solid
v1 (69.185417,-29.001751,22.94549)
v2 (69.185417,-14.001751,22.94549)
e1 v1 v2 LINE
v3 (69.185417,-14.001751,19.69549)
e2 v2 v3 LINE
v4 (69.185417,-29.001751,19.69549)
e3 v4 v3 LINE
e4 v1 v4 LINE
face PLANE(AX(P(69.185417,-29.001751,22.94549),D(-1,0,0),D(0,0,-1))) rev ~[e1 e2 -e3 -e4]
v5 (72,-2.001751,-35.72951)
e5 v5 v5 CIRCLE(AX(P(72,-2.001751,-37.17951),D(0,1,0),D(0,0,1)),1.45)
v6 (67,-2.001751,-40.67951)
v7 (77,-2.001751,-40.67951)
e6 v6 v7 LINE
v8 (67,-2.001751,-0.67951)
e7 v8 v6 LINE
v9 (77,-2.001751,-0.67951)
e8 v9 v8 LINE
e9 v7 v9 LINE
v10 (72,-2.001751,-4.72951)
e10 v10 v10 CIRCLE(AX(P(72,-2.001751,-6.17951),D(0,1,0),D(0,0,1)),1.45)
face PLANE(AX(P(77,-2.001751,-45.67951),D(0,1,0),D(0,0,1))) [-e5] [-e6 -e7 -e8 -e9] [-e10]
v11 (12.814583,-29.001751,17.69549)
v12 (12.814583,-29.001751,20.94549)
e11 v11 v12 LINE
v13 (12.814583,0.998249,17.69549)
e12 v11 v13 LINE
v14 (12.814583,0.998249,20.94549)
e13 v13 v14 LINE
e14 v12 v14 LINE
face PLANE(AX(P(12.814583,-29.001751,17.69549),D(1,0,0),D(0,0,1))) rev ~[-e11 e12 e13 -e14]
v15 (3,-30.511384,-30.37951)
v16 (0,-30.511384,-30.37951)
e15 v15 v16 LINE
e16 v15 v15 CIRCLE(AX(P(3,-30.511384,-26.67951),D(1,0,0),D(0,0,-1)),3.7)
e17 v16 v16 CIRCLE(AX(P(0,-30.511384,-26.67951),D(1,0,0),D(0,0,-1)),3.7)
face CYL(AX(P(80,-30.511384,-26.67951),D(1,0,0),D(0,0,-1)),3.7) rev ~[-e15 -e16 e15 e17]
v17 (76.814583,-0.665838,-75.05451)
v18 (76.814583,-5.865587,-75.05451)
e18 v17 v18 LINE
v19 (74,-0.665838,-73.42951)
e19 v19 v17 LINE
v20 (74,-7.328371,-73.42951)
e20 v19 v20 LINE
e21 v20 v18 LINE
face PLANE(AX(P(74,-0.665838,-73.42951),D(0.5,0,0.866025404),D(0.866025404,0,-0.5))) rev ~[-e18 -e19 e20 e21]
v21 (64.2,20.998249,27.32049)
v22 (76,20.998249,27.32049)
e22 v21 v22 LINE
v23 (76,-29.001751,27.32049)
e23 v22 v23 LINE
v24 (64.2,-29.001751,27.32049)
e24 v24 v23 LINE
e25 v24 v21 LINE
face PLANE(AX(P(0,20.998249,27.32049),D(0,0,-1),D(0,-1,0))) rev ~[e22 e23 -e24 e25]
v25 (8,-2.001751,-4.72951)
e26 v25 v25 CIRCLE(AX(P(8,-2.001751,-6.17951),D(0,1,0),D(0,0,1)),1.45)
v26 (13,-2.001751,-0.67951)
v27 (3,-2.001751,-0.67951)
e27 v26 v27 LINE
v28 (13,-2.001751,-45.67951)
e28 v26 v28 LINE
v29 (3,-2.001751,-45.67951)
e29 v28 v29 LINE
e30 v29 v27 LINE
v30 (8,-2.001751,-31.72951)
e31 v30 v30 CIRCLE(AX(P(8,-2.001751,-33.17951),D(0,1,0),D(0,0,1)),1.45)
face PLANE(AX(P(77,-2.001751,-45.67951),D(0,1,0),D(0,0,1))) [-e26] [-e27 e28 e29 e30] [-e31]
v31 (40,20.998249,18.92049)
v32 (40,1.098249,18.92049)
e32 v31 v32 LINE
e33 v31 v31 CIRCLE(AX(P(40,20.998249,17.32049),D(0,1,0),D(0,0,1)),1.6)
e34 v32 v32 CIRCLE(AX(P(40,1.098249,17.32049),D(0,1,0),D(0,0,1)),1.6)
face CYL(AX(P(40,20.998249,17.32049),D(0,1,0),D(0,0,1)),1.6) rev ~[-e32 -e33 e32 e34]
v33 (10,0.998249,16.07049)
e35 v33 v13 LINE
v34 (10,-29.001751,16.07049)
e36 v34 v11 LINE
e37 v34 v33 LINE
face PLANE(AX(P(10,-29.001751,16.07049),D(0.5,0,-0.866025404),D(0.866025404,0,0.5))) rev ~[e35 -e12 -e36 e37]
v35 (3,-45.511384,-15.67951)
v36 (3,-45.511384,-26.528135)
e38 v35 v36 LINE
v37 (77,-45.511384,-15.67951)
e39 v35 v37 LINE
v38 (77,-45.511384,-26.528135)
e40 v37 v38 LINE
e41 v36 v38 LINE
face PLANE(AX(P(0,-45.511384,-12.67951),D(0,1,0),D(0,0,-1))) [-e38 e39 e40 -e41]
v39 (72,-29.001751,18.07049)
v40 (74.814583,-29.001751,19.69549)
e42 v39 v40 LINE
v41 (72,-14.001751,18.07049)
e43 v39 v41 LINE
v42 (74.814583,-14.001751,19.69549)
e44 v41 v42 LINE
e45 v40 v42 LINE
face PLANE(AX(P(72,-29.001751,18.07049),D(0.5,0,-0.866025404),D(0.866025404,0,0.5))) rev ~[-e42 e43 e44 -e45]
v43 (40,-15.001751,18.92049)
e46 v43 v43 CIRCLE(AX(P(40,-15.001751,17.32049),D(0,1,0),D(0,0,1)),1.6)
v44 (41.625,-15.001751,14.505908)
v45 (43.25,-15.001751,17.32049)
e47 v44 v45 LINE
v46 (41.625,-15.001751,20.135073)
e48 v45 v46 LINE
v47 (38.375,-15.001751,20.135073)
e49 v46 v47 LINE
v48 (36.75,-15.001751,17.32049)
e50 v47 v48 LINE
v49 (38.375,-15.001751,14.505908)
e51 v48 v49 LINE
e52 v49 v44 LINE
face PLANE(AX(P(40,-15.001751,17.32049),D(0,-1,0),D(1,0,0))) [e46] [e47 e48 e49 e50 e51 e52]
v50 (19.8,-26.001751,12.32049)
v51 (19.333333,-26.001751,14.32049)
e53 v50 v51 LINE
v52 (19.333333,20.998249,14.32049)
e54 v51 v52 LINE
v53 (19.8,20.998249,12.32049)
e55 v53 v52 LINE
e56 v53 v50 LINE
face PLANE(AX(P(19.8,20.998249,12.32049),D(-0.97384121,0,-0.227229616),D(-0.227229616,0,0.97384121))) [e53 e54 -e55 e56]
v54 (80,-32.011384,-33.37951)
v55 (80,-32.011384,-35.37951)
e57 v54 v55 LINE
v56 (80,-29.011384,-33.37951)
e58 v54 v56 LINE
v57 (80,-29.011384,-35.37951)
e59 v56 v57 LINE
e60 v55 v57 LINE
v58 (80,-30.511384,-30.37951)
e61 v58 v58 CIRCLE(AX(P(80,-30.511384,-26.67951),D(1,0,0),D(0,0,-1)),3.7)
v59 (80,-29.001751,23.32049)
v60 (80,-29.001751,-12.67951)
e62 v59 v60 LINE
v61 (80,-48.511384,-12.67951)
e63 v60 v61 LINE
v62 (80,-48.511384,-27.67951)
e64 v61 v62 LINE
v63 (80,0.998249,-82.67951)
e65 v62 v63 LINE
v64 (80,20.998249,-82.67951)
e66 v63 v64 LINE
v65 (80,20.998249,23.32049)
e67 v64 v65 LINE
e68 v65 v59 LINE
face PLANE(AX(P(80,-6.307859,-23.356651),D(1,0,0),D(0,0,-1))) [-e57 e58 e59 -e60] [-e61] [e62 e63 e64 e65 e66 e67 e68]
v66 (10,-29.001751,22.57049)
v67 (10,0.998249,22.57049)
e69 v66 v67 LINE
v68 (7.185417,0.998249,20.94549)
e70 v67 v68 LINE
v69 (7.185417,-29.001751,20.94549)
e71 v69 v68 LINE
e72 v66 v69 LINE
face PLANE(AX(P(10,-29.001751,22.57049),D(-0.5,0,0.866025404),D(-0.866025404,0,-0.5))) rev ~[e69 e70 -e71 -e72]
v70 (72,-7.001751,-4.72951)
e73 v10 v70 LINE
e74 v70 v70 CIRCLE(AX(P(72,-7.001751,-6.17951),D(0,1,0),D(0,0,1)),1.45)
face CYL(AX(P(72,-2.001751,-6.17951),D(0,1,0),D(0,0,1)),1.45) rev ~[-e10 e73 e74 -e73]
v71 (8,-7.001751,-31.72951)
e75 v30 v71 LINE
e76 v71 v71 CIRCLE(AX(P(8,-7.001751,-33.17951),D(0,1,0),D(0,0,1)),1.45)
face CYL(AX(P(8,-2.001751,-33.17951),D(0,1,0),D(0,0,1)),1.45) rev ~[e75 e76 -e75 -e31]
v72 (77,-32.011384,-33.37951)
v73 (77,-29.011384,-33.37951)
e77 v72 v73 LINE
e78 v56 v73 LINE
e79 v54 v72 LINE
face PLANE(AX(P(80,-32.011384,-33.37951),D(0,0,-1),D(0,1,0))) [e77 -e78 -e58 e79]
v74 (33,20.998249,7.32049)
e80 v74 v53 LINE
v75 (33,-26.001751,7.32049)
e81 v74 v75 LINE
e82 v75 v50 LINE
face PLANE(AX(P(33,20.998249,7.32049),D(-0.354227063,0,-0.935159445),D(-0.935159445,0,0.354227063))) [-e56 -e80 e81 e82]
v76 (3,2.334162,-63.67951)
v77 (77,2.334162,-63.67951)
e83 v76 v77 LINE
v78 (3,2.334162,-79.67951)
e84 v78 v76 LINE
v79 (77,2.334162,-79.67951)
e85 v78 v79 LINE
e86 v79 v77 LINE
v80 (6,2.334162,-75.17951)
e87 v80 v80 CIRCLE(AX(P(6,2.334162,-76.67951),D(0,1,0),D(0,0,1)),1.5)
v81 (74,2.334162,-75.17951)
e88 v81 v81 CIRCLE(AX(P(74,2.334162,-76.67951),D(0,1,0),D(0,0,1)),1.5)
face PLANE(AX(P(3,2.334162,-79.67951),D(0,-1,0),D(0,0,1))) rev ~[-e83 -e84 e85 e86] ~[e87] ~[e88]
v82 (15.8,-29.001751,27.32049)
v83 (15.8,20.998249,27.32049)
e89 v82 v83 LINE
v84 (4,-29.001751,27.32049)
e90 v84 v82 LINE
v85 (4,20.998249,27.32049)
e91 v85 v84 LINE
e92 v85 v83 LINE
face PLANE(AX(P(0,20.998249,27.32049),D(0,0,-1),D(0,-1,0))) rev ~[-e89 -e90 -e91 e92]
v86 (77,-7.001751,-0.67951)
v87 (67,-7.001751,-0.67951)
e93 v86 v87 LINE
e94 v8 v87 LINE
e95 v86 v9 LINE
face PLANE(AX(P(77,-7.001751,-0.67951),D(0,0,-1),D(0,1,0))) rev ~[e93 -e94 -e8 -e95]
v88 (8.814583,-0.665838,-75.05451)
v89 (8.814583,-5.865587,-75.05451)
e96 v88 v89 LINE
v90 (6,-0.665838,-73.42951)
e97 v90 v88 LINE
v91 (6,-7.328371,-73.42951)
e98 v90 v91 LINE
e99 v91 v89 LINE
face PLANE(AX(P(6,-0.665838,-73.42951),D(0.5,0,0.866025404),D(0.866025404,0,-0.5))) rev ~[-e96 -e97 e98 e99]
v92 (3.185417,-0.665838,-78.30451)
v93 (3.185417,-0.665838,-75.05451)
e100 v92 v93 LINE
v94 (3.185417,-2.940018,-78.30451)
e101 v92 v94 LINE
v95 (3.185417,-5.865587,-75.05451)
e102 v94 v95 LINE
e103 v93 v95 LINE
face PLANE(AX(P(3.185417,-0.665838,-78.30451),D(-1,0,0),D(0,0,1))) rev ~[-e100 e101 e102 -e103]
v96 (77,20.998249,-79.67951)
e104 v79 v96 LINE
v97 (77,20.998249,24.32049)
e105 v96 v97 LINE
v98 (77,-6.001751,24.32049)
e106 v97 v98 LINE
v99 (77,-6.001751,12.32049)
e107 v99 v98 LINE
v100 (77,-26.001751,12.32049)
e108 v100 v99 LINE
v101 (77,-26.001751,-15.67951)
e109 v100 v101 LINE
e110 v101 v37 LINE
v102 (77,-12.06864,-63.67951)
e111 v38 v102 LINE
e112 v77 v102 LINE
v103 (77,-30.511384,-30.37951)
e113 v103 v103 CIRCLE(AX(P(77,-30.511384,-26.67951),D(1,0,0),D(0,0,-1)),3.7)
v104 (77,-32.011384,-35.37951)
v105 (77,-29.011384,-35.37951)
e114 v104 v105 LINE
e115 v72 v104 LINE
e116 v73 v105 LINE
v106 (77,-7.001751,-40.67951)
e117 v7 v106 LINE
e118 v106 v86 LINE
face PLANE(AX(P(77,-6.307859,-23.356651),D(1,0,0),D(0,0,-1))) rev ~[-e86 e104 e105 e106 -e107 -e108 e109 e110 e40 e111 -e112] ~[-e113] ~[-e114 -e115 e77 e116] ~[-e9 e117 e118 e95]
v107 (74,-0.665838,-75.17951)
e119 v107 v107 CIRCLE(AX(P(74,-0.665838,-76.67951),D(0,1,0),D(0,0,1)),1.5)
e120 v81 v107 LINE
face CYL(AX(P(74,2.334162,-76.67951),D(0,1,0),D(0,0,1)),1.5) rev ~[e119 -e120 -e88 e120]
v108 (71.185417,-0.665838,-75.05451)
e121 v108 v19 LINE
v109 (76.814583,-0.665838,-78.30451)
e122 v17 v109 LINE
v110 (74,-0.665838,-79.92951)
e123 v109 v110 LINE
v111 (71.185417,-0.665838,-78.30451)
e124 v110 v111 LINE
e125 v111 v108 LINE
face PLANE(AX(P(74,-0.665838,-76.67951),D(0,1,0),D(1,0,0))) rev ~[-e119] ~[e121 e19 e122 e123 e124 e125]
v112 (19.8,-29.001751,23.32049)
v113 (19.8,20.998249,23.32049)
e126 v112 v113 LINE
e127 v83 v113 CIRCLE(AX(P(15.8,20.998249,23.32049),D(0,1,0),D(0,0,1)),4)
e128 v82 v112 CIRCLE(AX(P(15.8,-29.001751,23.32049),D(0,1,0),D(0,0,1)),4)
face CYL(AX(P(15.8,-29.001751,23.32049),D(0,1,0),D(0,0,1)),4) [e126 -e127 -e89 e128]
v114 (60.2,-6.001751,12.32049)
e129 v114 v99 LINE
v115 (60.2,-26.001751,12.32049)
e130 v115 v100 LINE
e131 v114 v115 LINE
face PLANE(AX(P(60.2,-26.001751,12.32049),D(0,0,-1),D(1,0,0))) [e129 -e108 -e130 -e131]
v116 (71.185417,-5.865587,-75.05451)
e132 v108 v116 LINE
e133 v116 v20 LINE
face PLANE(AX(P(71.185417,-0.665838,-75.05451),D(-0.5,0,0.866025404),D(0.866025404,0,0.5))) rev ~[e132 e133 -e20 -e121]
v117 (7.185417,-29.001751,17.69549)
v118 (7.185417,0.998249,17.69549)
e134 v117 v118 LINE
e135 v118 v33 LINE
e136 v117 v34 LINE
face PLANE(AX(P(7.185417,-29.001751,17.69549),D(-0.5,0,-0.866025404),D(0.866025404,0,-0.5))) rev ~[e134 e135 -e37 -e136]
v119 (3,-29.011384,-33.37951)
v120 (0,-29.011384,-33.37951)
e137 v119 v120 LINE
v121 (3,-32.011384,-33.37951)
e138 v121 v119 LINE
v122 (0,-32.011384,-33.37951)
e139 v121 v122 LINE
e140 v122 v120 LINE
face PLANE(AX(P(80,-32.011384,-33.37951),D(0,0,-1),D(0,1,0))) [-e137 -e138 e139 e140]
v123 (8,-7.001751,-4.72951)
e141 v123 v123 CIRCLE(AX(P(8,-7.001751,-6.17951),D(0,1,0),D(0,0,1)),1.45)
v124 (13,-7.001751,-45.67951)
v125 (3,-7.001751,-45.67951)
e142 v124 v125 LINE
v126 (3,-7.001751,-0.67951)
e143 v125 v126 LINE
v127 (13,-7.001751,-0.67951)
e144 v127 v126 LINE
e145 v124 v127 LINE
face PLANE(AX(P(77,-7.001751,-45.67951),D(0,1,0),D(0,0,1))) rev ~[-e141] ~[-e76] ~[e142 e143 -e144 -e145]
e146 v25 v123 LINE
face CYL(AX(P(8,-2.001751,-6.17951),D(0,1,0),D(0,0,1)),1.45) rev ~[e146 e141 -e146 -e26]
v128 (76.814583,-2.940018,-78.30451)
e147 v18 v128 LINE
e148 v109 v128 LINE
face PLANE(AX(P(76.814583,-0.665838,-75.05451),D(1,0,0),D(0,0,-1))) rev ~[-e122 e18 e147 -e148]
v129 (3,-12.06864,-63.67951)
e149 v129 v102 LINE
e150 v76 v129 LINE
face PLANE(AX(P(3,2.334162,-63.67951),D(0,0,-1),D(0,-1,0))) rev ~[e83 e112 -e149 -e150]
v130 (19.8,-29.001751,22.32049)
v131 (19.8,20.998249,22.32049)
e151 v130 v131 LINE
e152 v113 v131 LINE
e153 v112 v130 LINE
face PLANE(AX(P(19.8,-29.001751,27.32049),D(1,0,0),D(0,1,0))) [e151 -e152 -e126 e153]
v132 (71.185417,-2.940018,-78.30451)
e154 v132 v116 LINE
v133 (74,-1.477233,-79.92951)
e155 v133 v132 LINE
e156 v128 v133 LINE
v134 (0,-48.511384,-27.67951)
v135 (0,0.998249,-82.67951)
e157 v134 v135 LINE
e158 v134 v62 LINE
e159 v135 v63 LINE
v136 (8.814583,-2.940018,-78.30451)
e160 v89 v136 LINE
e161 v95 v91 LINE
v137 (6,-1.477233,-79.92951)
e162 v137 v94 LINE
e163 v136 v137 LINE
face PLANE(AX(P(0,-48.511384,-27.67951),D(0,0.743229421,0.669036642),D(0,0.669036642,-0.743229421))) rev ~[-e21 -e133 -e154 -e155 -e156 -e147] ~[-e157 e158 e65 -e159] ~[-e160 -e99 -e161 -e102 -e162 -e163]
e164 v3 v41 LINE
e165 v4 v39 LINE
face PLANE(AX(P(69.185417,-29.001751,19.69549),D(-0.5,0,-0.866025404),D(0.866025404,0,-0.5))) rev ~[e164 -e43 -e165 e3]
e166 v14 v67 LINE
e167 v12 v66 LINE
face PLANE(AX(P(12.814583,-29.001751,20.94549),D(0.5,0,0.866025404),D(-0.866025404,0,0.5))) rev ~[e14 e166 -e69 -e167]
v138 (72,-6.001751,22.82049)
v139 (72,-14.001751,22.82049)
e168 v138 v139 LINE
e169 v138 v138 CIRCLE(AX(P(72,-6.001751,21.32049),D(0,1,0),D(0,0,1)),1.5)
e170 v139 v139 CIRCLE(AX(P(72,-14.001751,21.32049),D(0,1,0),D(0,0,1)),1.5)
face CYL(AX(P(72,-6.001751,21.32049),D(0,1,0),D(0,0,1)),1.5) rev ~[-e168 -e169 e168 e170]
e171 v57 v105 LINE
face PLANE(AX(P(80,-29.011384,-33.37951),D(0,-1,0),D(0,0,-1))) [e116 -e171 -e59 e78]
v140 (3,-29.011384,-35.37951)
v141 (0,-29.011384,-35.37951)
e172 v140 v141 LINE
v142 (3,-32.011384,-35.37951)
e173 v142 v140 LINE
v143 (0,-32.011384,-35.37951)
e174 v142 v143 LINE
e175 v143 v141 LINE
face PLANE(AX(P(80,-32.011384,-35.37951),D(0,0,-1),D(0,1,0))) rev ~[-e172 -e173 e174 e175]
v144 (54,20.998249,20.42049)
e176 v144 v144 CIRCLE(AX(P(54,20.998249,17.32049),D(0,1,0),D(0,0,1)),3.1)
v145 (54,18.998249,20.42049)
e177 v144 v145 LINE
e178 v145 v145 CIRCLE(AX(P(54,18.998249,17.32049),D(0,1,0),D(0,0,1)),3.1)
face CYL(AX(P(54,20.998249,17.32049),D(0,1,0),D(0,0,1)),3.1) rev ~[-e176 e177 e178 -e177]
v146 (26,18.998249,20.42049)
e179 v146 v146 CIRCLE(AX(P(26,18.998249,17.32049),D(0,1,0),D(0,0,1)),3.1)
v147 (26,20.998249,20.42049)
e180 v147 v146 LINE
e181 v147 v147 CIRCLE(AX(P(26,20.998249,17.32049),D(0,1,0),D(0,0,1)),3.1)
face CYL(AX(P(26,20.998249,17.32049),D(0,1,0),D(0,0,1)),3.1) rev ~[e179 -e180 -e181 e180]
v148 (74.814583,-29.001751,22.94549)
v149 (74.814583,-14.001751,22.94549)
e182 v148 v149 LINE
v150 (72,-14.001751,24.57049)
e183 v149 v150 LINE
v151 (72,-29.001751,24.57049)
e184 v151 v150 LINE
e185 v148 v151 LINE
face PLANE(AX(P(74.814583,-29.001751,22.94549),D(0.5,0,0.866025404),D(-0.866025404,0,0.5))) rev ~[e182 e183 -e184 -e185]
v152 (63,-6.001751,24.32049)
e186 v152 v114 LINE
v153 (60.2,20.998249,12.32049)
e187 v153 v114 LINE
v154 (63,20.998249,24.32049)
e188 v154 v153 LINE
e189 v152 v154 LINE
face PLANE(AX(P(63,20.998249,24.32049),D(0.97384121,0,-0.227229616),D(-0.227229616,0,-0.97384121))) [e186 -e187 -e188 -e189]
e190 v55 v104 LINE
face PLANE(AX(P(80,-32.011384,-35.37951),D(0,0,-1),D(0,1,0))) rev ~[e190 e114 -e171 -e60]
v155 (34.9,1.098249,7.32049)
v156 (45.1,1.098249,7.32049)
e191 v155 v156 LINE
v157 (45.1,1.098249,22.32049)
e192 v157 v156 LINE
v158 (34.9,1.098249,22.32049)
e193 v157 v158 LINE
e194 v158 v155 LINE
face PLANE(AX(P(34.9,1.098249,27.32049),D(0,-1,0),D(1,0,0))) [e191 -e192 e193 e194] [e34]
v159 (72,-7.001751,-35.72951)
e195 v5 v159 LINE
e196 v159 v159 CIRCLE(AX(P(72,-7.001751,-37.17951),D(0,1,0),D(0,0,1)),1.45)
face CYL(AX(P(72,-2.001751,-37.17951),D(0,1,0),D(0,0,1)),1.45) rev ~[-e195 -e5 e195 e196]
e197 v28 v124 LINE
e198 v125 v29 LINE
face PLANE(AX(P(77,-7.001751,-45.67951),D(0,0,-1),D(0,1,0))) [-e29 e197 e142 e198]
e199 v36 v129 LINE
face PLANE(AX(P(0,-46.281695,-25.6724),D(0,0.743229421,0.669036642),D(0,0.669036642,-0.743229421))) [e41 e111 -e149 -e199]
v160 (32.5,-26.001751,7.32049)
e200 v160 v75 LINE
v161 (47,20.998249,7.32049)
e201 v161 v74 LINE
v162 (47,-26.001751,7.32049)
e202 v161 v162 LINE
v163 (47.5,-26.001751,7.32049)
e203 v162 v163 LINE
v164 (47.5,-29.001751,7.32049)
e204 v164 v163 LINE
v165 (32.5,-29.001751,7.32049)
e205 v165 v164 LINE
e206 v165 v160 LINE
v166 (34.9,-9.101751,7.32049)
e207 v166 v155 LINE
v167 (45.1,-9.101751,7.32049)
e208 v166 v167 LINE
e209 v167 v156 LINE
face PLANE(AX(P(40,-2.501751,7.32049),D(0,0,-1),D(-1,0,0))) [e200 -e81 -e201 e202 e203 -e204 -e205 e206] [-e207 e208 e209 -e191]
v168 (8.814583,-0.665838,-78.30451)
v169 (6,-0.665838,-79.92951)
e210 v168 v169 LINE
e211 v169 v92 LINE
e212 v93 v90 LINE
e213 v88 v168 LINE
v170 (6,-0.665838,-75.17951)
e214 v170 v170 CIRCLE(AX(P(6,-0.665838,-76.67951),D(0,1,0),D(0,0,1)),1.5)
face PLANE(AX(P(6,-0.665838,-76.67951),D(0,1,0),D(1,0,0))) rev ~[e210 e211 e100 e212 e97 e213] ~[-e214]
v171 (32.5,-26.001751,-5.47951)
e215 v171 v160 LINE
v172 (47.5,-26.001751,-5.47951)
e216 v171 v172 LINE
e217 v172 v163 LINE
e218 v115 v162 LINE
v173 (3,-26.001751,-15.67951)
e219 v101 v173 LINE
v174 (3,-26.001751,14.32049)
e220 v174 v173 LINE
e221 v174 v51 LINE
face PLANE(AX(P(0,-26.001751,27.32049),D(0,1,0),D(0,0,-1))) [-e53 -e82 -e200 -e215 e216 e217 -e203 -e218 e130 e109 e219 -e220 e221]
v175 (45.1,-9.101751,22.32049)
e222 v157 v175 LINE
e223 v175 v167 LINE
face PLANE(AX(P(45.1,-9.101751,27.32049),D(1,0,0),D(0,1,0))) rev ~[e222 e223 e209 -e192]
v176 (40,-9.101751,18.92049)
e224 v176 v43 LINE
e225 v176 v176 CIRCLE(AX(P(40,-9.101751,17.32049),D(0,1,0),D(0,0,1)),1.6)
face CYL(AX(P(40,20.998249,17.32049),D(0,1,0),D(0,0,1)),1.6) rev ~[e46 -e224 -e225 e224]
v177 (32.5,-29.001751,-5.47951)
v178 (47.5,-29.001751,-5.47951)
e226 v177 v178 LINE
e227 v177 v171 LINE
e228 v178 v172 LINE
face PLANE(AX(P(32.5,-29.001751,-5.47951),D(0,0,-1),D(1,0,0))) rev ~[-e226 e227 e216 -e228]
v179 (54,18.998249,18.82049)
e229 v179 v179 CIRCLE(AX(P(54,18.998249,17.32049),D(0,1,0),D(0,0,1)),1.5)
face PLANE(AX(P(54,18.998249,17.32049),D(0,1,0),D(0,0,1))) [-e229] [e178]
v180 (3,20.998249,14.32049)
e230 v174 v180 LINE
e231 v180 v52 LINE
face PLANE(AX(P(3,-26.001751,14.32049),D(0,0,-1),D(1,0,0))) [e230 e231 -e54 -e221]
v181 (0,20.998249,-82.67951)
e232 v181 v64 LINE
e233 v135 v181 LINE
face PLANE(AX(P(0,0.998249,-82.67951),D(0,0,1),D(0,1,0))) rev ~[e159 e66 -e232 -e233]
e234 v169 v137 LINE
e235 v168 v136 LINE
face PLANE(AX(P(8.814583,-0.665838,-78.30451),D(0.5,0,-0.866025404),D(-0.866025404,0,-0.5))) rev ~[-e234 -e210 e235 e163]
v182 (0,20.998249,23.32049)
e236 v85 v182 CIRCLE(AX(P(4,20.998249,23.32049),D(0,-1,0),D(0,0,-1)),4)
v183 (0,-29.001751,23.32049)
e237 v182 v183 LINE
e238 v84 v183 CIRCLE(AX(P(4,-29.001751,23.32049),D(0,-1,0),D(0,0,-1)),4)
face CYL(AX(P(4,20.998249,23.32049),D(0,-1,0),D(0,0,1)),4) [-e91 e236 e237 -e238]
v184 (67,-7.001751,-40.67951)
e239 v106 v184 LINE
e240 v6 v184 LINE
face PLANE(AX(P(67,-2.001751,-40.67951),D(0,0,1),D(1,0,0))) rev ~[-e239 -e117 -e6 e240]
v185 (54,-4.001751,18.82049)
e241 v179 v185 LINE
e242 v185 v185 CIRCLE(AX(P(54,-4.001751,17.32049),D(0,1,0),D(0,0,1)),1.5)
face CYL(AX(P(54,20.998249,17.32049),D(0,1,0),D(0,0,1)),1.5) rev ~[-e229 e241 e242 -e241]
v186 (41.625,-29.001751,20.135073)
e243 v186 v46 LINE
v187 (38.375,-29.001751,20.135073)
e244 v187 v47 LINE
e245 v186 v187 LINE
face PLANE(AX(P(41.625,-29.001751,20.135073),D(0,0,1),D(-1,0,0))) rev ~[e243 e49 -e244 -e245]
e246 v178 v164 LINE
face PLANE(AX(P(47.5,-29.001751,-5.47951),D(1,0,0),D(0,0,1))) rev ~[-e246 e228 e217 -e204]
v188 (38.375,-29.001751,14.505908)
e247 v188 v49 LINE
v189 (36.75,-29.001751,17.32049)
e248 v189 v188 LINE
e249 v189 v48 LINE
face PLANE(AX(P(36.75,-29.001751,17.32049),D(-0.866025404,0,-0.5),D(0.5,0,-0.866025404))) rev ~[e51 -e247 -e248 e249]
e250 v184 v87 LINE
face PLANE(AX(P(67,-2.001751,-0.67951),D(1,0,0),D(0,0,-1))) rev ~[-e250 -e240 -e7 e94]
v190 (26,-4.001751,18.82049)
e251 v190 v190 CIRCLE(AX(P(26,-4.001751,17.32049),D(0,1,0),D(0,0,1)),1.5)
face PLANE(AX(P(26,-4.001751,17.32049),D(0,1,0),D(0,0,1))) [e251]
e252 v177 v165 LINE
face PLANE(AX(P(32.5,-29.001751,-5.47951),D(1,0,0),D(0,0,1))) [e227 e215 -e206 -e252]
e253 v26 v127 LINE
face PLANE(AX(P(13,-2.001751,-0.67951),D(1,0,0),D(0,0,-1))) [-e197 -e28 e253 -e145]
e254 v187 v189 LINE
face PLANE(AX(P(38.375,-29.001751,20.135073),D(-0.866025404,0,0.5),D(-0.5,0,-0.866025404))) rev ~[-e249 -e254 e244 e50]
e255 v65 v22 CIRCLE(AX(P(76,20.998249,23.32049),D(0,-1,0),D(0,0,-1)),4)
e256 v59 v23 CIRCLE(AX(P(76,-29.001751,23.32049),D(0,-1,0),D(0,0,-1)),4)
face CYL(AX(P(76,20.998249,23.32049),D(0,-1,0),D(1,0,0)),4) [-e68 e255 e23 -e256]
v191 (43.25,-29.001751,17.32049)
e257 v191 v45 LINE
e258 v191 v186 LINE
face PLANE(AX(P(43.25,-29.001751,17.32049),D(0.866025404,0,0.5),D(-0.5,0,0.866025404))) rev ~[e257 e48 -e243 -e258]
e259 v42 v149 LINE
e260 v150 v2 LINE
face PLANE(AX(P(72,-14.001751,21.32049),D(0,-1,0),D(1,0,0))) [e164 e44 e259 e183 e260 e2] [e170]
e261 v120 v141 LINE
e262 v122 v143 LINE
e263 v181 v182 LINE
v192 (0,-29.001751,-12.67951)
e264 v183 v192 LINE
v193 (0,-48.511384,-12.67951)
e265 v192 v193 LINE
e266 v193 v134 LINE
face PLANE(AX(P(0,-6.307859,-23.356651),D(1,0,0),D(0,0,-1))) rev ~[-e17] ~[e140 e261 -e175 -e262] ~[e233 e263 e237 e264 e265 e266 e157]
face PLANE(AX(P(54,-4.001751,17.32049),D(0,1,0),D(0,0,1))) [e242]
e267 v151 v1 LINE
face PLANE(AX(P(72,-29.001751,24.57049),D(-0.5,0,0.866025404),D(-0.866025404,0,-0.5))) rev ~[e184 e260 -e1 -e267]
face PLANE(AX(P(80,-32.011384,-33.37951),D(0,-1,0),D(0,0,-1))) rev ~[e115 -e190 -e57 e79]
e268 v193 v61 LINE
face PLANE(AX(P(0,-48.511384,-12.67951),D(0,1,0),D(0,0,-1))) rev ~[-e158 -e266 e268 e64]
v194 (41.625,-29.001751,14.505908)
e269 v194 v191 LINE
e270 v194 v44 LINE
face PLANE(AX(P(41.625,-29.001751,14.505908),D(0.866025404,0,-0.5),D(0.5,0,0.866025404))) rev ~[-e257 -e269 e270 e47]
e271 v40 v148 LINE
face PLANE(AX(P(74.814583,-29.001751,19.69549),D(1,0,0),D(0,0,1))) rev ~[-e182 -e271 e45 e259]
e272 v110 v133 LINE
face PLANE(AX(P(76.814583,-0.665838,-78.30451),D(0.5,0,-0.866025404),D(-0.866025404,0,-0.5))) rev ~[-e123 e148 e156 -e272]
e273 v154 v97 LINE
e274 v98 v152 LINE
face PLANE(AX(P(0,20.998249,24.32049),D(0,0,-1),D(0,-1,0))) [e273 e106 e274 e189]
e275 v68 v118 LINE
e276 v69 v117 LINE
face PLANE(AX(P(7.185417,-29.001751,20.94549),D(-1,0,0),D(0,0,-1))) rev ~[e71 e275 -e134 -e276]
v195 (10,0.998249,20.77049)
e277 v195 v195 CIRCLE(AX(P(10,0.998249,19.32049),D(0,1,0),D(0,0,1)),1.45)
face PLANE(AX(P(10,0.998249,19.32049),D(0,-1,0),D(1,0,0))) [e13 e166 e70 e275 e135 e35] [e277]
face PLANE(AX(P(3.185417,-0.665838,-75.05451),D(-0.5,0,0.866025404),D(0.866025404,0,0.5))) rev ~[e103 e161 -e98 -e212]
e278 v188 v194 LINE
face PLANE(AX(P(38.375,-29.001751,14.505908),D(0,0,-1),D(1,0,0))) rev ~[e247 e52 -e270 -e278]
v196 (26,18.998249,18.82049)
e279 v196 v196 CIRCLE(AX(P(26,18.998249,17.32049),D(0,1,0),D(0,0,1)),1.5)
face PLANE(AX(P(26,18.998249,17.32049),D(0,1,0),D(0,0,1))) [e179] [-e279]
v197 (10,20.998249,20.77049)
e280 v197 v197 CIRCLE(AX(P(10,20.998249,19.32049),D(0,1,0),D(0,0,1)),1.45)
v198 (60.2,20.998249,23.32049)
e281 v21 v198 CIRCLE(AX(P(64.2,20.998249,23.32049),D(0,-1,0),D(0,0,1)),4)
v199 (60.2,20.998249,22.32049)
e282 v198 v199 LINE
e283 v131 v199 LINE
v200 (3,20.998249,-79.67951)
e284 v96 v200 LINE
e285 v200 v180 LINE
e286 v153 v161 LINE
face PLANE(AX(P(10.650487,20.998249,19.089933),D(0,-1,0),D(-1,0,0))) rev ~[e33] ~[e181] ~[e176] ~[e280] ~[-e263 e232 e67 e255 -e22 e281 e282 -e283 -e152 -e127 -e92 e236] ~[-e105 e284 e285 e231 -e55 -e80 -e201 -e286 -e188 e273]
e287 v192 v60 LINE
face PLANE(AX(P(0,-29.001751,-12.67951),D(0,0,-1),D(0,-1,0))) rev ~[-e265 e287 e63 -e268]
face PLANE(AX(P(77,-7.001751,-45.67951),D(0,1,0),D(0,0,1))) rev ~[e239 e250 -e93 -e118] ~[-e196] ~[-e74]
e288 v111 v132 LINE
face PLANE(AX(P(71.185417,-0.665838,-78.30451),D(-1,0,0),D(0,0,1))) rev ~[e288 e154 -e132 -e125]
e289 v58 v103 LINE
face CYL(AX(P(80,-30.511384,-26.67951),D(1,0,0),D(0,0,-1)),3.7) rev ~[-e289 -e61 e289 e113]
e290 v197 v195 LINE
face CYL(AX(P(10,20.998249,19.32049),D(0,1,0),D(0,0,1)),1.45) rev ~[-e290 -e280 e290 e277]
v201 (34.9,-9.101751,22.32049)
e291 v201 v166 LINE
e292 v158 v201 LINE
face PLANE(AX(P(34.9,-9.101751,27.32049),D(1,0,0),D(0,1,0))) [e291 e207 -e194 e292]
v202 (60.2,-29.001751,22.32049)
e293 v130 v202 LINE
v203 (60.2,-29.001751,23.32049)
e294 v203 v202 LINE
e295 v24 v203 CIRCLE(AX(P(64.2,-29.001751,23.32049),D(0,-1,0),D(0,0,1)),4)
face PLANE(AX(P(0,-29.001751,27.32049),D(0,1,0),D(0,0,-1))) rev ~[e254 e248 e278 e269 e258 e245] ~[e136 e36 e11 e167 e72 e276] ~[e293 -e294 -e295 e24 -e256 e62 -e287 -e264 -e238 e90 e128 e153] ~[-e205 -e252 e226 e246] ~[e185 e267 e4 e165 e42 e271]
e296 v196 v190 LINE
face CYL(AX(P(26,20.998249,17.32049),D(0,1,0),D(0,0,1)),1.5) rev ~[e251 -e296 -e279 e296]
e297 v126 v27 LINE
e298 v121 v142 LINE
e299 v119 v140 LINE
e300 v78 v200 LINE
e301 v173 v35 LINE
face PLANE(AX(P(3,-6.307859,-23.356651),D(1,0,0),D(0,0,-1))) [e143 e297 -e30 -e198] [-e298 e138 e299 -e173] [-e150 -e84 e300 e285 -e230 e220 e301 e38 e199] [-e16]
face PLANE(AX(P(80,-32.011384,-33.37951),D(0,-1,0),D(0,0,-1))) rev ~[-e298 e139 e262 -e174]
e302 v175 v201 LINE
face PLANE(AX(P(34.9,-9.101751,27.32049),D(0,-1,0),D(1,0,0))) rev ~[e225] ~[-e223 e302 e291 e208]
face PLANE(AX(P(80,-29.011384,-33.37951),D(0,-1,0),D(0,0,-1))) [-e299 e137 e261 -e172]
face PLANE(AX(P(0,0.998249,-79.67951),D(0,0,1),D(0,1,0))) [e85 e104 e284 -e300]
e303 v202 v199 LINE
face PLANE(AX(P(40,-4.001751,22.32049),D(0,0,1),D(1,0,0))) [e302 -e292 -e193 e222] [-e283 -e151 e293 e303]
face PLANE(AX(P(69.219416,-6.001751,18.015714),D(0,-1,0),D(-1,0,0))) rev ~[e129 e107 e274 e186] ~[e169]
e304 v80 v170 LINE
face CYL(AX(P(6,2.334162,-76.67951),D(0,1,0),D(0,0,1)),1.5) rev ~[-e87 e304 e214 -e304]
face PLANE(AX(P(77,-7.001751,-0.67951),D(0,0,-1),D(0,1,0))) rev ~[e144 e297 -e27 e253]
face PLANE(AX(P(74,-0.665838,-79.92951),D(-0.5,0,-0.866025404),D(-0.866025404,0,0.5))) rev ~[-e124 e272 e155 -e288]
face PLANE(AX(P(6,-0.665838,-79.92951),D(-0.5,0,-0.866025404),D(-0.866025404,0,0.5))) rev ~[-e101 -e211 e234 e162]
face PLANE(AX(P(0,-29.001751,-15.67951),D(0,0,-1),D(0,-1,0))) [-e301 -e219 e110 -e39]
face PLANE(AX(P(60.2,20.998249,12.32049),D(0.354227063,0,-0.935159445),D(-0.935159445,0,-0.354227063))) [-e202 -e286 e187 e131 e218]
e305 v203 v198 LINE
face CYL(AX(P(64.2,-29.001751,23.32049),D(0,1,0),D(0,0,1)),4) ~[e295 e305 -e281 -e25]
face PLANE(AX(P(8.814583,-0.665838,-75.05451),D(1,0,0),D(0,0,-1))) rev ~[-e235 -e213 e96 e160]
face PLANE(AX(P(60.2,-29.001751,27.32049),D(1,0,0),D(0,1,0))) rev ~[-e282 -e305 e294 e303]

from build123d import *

# Parameters (mm, degrees)
BOSS_EXTRUDE1_DEPTH = 80
SHELL1_T            = -3
SKETCH3_W           = 46
SKETCH3_H           = 47
BOSS_EXTRUDE2_DEPTH = 17
SKETCH4_W           = 10.2
SKETCH4_H           = 10.2
CUT_EXTRUDE1_DEPTH  = 20
SKETCH6_W           = 15
SKETCH6_H           = 12.8
CUT_EXTRUDE2_DEPTH  = 3
SKETCH7_W           = 40.4
SKETCH7_H           = 50
CUT_EXTRUDE3_DEPTH  = 5
FILLET1_R           = 4
CUT_EXTRUDE7_DEPTH  = 47
SKETCH13_R          = 1.5
CUT_EXTRUDE8_DEPTH  = 25
SKETCH14_R          = 3.1
CUT_EXTRUDE9_DEPTH  = 2
SKETCH17_W          = 45
SKETCH17_H          = 5
BOSS_EXTRUDE5_DEPTH = 74
CUT_EXTRUDE10_REACH = 126.093
SKETCH18_W          = 54
SKETCH18_H          = 45
CUT_EXTRUDE11_REACH = 126.093
SKETCH19_R          = 1.45
BOSS_EXTRUDE6_DEPTH = 47
SKETCH22_R          = 1.45
CUT_EXTRUDE12_DEPTH = 135.415364765
SKETCH24_R          = 3.7
SKETCH24_W          = 2
SKETCH24_H          = 3
CUT_EXTRUDE13_DEPTH = 125.856940719
BOSS_EXTRUDE7_DEPTH = 74
SKETCH27_R          = 1.5
CUT_EXTRUDE14_DEPTH = 10
CUT_EXTRUDE15_START = -3
CUT_EXTRUDE15_DEPTH = 32
CUT_EXTRUDE16_DEPTH = 30
BOSS_EXTRUDE8_DEPTH = 20
SKETCH31_R          = 1.5
CUT_EXTRUDE17_DEPTH = 123.649786567
CUT_EXTRUDE18_DEPTH = 15
CUT_EXTRUDE19_REACH = 126.093
SKETCH33_W          = 10
SKETCH33_H          = 5
SKETCH34_R          = 1.6
CUT_EXTRUDE20_DEPTH = 135.415364765
CUT_EXTRUDE22_DEPTH = 14


with BuildPart() as part:
    # Sketch2 → Boss-Extrude1 (new body)
    with BuildSketch(Plane(origin=(0, 0, 0), x_dir=(0, 0, -1), z_dir=(1, 0, 0))):
        Polygon((-27.320490368, 20.998248687), (-27.320490368, -29.001751313), (12.679509632, -29.001751313), (12.679509632, -48.511383538), (27.679509632, -48.511383538), (82.679509632, 0.998248687), (82.679509632, 20.998248687), align=None)
    extrude(amount=BOSS_EXTRUDE1_DEPTH)

    # Shell1
    shell1_openings = [part.faces().sort_by_distance(p)[0] for p in [
        (40, 20.998248687, -27.679509632),
    ]]
    offset(amount=SHELL1_T, openings=shell1_openings, kind=Kind.INTERSECTION)

    # Sketch3 → Boss-Extrude2 (add)
    with BuildSketch(Plane(origin=(0, 0, 24.320490368), x_dir=(-1, 0, 0), z_dir=(0, 0, -1))):
        with Locations((-40, -2.501751313)):
            Rectangle(SKETCH3_W, SKETCH3_H)
    extrude(amount=BOSS_EXTRUDE2_DEPTH)

    # Sketch4 → Cut-Extrude1 (cut)
    with BuildSketch(Plane.XY.offset(27.320490368)):
        with Locations((40, -4.001751313)):
            Rectangle(SKETCH4_W, SKETCH4_H)
    extrude(amount=-CUT_EXTRUDE1_DEPTH, mode=Mode.SUBTRACT)

    # Sketch6 → Cut-Extrude2 (cut)
    with BuildSketch(Plane.XZ.offset(29.001751313)):
        with Locations((40, 0.920490368)):
            Rectangle(SKETCH6_W, SKETCH6_H)
    extrude(amount=-CUT_EXTRUDE2_DEPTH, mode=Mode.SUBTRACT)

    # Sketch7 → Cut-Extrude3 (cut)
    with BuildSketch(Plane.XY.offset(27.320490368)):
        with Locations((40, -4.001751313)):
            Rectangle(SKETCH7_W, SKETCH7_H)
    extrude(amount=-CUT_EXTRUDE3_DEPTH, mode=Mode.SUBTRACT)

    # Fillet1
    fillet1_edges = [part.edges().sort_by_distance(p)[0] for p in [
        (80, -4.001751313, 27.320490368),
        (19.8, -4.001751313, 27.320490368),
        (0, -4.001751313, 27.320490368),
        (60.2, -4.001751313, 27.320490368),
    ]]
    fillet(fillet1_edges, radius=FILLET1_R)

    # Sketch12 → Cut-Extrude7 (cut)
    with BuildSketch(Plane(origin=(0, 20.998248687, 0), x_dir=(1, 0, 0), z_dir=(0, 1, 0))):
        Polygon((33, -7.320490368), (19.8, -12.320490368), (17, -24.320490368), (17, -7.320490368), align=None)
        Polygon((47, -7.320490368), (63, -7.320490368), (63, -24.320490368), (60.2, -12.320490368), align=None)
    extrude(amount=-CUT_EXTRUDE7_DEPTH, mode=Mode.SUBTRACT)

    # Sketch13 → Cut-Extrude8 (cut)
    with BuildSketch(Plane(origin=(0, 20.998248687, 0), x_dir=(1, 0, 0), z_dir=(0, 1, 0))):
        with Locations(Location((26, -17.320490368, 0), (0, 0, 270))):
            Circle(SKETCH13_R)
        with Locations(Location((54, -17.320490368, 0), (0, 0, 270))):
            Circle(SKETCH13_R)
    extrude(amount=-CUT_EXTRUDE8_DEPTH, mode=Mode.SUBTRACT)

    # Sketch14 → Cut-Extrude9 (cut)
    with BuildSketch(Plane(origin=(0, 20.998248687, 0), x_dir=(1, 0, 0), z_dir=(0, 1, 0))):
        with Locations(Location((26, -17.320490368, 0), (0, 0, 270))):
            Circle(SKETCH14_R)
        with Locations(Location((54, -17.320490368, 0), (0, 0, 270))):
            Circle(SKETCH14_R)
    extrude(amount=-CUT_EXTRUDE9_DEPTH, mode=Mode.SUBTRACT)

    # Sketch17 → Boss-Extrude5 (add)
    with BuildSketch(Plane.ZY.offset(-77)):
        with Locations((-23.179509632, -4.501751313)):
            Rectangle(SKETCH17_W, SKETCH17_H)
    extrude(amount=BOSS_EXTRUDE5_DEPTH)

    # Sketch18 → Cut-Extrude10 (cut, up to next)
    with BuildSketch(Plane(origin=(0, -2.001751313, 0), x_dir=(1, 0, 0), z_dir=(0, 1, 0)), mode=Mode.PRIVATE) as cut_extrude10_sk1:
        with Locations((40, 23.179509632)):
            Rectangle(SKETCH18_W, SKETCH18_H)
    cut_extrude10_tool1 = extrude(cut_extrude10_sk1.sketch, amount=-CUT_EXTRUDE10_REACH, mode=Mode.PRIVATE) & part.part
    add(cut_extrude10_tool1.solids().sort_by_distance((40, -2.001751, -23.17951))[0], mode=Mode.SUBTRACT)

    # Sketch19 → Cut-Extrude11 (cut, up to next)
    with BuildSketch(Plane(origin=(0, -2.001751313, 0), x_dir=(1, 0, 0), z_dir=(0, 1, 0)), mode=Mode.PRIVATE) as cut_extrude11_sk1:
        with Locations(Location((72, 37.179509632, 0), (0, 0, 270))):
            Circle(SKETCH19_R)
    cut_extrude11_tool1 = extrude(cut_extrude11_sk1.sketch, amount=-CUT_EXTRUDE11_REACH, mode=Mode.PRIVATE) & part.part
    # Sketch19 → Cut-Extrude11 (cut, up to next)
    with BuildSketch(Plane(origin=(0, -2.001751313, 0), x_dir=(1, 0, 0), z_dir=(0, 1, 0)), mode=Mode.PRIVATE) as cut_extrude11_sk2:
        with Locations(Location((72, 6.179509632, 0), (0, 0, 270))):
            Circle(SKETCH19_R)
    cut_extrude11_tool2 = extrude(cut_extrude11_sk2.sketch, amount=-CUT_EXTRUDE11_REACH, mode=Mode.PRIVATE) & part.part
    # Sketch19 → Cut-Extrude11 (cut, up to next)
    with BuildSketch(Plane(origin=(0, -2.001751313, 0), x_dir=(1, 0, 0), z_dir=(0, 1, 0)), mode=Mode.PRIVATE) as cut_extrude11_sk3:
        with Locations(Location((8, 33.179509632, 0), (0, 0, 270))):
            Circle(SKETCH19_R)
    cut_extrude11_tool3 = extrude(cut_extrude11_sk3.sketch, amount=-CUT_EXTRUDE11_REACH, mode=Mode.PRIVATE) & part.part
    # Sketch19 → Cut-Extrude11 (cut, up to next)
    with BuildSketch(Plane(origin=(0, -2.001751313, 0), x_dir=(1, 0, 0), z_dir=(0, 1, 0)), mode=Mode.PRIVATE) as cut_extrude11_sk4:
        with Locations(Location((8, 6.179509632, 0), (0, 0, 270))):
            Circle(SKETCH19_R)
    cut_extrude11_tool4 = extrude(cut_extrude11_sk4.sketch, amount=-CUT_EXTRUDE11_REACH, mode=Mode.PRIVATE) & part.part
    add(cut_extrude11_tool1.solids().sort_by_distance((72, -2.001751, -37.17951))[0], mode=Mode.SUBTRACT)
    add(cut_extrude11_tool2.solids().sort_by_distance((72, -2.001751, -6.17951))[0], mode=Mode.SUBTRACT)
    add(cut_extrude11_tool3.solids().sort_by_distance((8, -2.001751, -33.17951))[0], mode=Mode.SUBTRACT)
    add(cut_extrude11_tool4.solids().sort_by_distance((8, -2.001751, -6.17951))[0], mode=Mode.SUBTRACT)

    # Sketch21 → Boss-Extrude6 (add)
    with BuildSketch(Plane(origin=(0, -26.001751313, 0), x_dir=(1, 0, 0), z_dir=(0, 1, 0))):
        Polygon((3, -24.320490368), (3, -14.320490368), (19.333333333, -14.320490368), (17, -24.320490368), align=None)
    extrude(amount=BOSS_EXTRUDE6_DEPTH)

    # Sketch22 → Cut-Extrude12 (cut, through all)
    with BuildSketch(Plane(origin=(0, 20.998248687, 0), x_dir=(1, 0, 0), z_dir=(0, 1, 0))):
        with Locations(Location((10, -19.320490368, 0), (0, 0, 270))):
            Circle(SKETCH22_R)
    extrude(amount=-CUT_EXTRUDE12_DEPTH, mode=Mode.SUBTRACT)

    # Sketch24 → Cut-Extrude13 (cut, through all)
    with BuildSketch(Plane(origin=(80, 0, 0), x_dir=(0, 0, -1), z_dir=(1, 0, 0))):
        with Locations((26.679509632, -30.511383538)):
            Circle(SKETCH24_R)
        with Locations((34.379509632, -30.511383538)):
            Rectangle(SKETCH24_W, SKETCH24_H)
    extrude(amount=-CUT_EXTRUDE13_DEPTH, mode=Mode.SUBTRACT)

    # Sketch26 → Boss-Extrude7 (add)
    with BuildSketch(Plane(origin=(3, 0, 0), x_dir=(0, 0, -1), z_dir=(1, 0, 0))):
        Polygon((79.679509632, 2.334161996), (63.679509632, 2.334161996), (63.679509632, -12.068640106), align=None)
    extrude(amount=BOSS_EXTRUDE7_DEPTH)

    # Sketch27 → Cut-Extrude14 (cut)
    with BuildSketch(Plane(origin=(0, 2.334161996, 0), x_dir=(1, 0, 0), z_dir=(0, 1, 0))):
        with Locations(Location((6, 76.679509632, 0), (0, 0, 270))):
            Circle(SKETCH27_R)
        with Locations(Location((74, 76.679509632, 0), (0, 0, 270))):
            Circle(SKETCH27_R)
    extrude(amount=-CUT_EXTRUDE14_DEPTH, mode=Mode.SUBTRACT)

    # Sketch28 → Cut-Extrude15 (cut)
    with BuildSketch(Plane(origin=(0, 2.334161996, 0), x_dir=(1, 0, 0), z_dir=(0, 1, 0)).offset(CUT_EXTRUDE15_START)):
        Polygon((74, 79.929509632), (71.185417438, 78.304509632), (71.185417438, 75.054509632), (74, 73.429509632), (76.814582562, 75.054509632), (76.814582562, 78.304509632), align=None)
        Polygon((6, 73.429509632), (8.814582562, 75.054509632), (8.814582562, 78.304509632), (6, 79.929509632), (3.185417438, 78.304509632), (3.185417438, 75.054509632), align=None)
    extrude(amount=-CUT_EXTRUDE15_DEPTH, mode=Mode.SUBTRACT)

    # Sketch29 → Cut-Extrude16 (cut)
    with BuildSketch(Plane.XZ.offset(29.001751313)):
        Polygon((7.185417438, 17.695490368), (10, 16.070490368), (12.814582562, 17.695490368), (12.814582562, 20.945490368), (10, 22.570490368), (7.185417438, 20.945490368), align=None)
    extrude(amount=-CUT_EXTRUDE16_DEPTH, mode=Mode.SUBTRACT)

    # Sketch30 → Boss-Extrude8 (add)
    with BuildSketch(Plane(origin=(0, -26.001751313, 0), x_dir=(1, 0, 0), z_dir=(0, 1, 0))):
        Polygon((77, -24.320490368), (63, -24.320490368), (60.2, -12.320490368), (77, -12.320490368), align=None)
    extrude(amount=BOSS_EXTRUDE8_DEPTH)

    # Sketch31 → Cut-Extrude17 (cut, through all)
    with BuildSketch(Plane(origin=(0, -6.001751313, 0), x_dir=(1, 0, 0), z_dir=(0, 1, 0))):
        with Locations(Location((72, -21.320490368, 0), (0, 0, 270))):
            Circle(SKETCH31_R)
    extrude(amount=-CUT_EXTRUDE17_DEPTH, mode=Mode.SUBTRACT)

    # Sketch32 → Cut-Extrude18 (cut)
    with BuildSketch(Plane.XZ.offset(29.001751313)):
        Polygon((72, 24.570490368), (69.185417438, 22.945490368), (69.185417438, 19.695490368), (72, 18.070490368), (74.814582562, 19.695490368), (74.814582562, 22.945490368), align=None)
    extrude(amount=-CUT_EXTRUDE18_DEPTH, mode=Mode.SUBTRACT)

    # Sketch33 → Cut-Extrude19 (cut, up to next)
    with BuildSketch(Plane(origin=(0, -2.001751313, 0), x_dir=(1, 0, 0), z_dir=(0, 1, 0)), mode=Mode.PRIVATE) as cut_extrude19_sk1:
        with Locations((72, 43.179509632)):
            Rectangle(SKETCH33_W, SKETCH33_H)
    cut_extrude19_tool1 = extrude(cut_extrude19_sk1.sketch, amount=-CUT_EXTRUDE19_REACH, mode=Mode.PRIVATE) & part.part
    add(cut_extrude19_tool1.solids().sort_by_distance((72, -2.001751, -43.17951))[0], mode=Mode.SUBTRACT)

    # Sketch34 → Cut-Extrude20 (cut, through all)
    with BuildSketch(Plane(origin=(0, 20.998248687, 0), x_dir=(1, 0, 0), z_dir=(0, 1, 0))):
        with Locations(Location((40, -17.320490368, 0), (0, 0, 270))):
            Circle(SKETCH34_R)
    extrude(amount=-CUT_EXTRUDE20_DEPTH, mode=Mode.SUBTRACT)

    # Sketch36 → Cut-Extrude22 (cut)
    with BuildSketch(Plane.XZ.offset(29.001751313)):
        Polygon((38.375, 20.13507293), (36.75, 17.320490368), (38.375, 14.505907805), (41.625, 14.505907805), (43.25, 17.320490368), (41.625, 20.13507293), align=None)
    extrude(amount=-CUT_EXTRUDE22_DEPTH, mode=Mode.SUBTRACT)


solid = part.part
